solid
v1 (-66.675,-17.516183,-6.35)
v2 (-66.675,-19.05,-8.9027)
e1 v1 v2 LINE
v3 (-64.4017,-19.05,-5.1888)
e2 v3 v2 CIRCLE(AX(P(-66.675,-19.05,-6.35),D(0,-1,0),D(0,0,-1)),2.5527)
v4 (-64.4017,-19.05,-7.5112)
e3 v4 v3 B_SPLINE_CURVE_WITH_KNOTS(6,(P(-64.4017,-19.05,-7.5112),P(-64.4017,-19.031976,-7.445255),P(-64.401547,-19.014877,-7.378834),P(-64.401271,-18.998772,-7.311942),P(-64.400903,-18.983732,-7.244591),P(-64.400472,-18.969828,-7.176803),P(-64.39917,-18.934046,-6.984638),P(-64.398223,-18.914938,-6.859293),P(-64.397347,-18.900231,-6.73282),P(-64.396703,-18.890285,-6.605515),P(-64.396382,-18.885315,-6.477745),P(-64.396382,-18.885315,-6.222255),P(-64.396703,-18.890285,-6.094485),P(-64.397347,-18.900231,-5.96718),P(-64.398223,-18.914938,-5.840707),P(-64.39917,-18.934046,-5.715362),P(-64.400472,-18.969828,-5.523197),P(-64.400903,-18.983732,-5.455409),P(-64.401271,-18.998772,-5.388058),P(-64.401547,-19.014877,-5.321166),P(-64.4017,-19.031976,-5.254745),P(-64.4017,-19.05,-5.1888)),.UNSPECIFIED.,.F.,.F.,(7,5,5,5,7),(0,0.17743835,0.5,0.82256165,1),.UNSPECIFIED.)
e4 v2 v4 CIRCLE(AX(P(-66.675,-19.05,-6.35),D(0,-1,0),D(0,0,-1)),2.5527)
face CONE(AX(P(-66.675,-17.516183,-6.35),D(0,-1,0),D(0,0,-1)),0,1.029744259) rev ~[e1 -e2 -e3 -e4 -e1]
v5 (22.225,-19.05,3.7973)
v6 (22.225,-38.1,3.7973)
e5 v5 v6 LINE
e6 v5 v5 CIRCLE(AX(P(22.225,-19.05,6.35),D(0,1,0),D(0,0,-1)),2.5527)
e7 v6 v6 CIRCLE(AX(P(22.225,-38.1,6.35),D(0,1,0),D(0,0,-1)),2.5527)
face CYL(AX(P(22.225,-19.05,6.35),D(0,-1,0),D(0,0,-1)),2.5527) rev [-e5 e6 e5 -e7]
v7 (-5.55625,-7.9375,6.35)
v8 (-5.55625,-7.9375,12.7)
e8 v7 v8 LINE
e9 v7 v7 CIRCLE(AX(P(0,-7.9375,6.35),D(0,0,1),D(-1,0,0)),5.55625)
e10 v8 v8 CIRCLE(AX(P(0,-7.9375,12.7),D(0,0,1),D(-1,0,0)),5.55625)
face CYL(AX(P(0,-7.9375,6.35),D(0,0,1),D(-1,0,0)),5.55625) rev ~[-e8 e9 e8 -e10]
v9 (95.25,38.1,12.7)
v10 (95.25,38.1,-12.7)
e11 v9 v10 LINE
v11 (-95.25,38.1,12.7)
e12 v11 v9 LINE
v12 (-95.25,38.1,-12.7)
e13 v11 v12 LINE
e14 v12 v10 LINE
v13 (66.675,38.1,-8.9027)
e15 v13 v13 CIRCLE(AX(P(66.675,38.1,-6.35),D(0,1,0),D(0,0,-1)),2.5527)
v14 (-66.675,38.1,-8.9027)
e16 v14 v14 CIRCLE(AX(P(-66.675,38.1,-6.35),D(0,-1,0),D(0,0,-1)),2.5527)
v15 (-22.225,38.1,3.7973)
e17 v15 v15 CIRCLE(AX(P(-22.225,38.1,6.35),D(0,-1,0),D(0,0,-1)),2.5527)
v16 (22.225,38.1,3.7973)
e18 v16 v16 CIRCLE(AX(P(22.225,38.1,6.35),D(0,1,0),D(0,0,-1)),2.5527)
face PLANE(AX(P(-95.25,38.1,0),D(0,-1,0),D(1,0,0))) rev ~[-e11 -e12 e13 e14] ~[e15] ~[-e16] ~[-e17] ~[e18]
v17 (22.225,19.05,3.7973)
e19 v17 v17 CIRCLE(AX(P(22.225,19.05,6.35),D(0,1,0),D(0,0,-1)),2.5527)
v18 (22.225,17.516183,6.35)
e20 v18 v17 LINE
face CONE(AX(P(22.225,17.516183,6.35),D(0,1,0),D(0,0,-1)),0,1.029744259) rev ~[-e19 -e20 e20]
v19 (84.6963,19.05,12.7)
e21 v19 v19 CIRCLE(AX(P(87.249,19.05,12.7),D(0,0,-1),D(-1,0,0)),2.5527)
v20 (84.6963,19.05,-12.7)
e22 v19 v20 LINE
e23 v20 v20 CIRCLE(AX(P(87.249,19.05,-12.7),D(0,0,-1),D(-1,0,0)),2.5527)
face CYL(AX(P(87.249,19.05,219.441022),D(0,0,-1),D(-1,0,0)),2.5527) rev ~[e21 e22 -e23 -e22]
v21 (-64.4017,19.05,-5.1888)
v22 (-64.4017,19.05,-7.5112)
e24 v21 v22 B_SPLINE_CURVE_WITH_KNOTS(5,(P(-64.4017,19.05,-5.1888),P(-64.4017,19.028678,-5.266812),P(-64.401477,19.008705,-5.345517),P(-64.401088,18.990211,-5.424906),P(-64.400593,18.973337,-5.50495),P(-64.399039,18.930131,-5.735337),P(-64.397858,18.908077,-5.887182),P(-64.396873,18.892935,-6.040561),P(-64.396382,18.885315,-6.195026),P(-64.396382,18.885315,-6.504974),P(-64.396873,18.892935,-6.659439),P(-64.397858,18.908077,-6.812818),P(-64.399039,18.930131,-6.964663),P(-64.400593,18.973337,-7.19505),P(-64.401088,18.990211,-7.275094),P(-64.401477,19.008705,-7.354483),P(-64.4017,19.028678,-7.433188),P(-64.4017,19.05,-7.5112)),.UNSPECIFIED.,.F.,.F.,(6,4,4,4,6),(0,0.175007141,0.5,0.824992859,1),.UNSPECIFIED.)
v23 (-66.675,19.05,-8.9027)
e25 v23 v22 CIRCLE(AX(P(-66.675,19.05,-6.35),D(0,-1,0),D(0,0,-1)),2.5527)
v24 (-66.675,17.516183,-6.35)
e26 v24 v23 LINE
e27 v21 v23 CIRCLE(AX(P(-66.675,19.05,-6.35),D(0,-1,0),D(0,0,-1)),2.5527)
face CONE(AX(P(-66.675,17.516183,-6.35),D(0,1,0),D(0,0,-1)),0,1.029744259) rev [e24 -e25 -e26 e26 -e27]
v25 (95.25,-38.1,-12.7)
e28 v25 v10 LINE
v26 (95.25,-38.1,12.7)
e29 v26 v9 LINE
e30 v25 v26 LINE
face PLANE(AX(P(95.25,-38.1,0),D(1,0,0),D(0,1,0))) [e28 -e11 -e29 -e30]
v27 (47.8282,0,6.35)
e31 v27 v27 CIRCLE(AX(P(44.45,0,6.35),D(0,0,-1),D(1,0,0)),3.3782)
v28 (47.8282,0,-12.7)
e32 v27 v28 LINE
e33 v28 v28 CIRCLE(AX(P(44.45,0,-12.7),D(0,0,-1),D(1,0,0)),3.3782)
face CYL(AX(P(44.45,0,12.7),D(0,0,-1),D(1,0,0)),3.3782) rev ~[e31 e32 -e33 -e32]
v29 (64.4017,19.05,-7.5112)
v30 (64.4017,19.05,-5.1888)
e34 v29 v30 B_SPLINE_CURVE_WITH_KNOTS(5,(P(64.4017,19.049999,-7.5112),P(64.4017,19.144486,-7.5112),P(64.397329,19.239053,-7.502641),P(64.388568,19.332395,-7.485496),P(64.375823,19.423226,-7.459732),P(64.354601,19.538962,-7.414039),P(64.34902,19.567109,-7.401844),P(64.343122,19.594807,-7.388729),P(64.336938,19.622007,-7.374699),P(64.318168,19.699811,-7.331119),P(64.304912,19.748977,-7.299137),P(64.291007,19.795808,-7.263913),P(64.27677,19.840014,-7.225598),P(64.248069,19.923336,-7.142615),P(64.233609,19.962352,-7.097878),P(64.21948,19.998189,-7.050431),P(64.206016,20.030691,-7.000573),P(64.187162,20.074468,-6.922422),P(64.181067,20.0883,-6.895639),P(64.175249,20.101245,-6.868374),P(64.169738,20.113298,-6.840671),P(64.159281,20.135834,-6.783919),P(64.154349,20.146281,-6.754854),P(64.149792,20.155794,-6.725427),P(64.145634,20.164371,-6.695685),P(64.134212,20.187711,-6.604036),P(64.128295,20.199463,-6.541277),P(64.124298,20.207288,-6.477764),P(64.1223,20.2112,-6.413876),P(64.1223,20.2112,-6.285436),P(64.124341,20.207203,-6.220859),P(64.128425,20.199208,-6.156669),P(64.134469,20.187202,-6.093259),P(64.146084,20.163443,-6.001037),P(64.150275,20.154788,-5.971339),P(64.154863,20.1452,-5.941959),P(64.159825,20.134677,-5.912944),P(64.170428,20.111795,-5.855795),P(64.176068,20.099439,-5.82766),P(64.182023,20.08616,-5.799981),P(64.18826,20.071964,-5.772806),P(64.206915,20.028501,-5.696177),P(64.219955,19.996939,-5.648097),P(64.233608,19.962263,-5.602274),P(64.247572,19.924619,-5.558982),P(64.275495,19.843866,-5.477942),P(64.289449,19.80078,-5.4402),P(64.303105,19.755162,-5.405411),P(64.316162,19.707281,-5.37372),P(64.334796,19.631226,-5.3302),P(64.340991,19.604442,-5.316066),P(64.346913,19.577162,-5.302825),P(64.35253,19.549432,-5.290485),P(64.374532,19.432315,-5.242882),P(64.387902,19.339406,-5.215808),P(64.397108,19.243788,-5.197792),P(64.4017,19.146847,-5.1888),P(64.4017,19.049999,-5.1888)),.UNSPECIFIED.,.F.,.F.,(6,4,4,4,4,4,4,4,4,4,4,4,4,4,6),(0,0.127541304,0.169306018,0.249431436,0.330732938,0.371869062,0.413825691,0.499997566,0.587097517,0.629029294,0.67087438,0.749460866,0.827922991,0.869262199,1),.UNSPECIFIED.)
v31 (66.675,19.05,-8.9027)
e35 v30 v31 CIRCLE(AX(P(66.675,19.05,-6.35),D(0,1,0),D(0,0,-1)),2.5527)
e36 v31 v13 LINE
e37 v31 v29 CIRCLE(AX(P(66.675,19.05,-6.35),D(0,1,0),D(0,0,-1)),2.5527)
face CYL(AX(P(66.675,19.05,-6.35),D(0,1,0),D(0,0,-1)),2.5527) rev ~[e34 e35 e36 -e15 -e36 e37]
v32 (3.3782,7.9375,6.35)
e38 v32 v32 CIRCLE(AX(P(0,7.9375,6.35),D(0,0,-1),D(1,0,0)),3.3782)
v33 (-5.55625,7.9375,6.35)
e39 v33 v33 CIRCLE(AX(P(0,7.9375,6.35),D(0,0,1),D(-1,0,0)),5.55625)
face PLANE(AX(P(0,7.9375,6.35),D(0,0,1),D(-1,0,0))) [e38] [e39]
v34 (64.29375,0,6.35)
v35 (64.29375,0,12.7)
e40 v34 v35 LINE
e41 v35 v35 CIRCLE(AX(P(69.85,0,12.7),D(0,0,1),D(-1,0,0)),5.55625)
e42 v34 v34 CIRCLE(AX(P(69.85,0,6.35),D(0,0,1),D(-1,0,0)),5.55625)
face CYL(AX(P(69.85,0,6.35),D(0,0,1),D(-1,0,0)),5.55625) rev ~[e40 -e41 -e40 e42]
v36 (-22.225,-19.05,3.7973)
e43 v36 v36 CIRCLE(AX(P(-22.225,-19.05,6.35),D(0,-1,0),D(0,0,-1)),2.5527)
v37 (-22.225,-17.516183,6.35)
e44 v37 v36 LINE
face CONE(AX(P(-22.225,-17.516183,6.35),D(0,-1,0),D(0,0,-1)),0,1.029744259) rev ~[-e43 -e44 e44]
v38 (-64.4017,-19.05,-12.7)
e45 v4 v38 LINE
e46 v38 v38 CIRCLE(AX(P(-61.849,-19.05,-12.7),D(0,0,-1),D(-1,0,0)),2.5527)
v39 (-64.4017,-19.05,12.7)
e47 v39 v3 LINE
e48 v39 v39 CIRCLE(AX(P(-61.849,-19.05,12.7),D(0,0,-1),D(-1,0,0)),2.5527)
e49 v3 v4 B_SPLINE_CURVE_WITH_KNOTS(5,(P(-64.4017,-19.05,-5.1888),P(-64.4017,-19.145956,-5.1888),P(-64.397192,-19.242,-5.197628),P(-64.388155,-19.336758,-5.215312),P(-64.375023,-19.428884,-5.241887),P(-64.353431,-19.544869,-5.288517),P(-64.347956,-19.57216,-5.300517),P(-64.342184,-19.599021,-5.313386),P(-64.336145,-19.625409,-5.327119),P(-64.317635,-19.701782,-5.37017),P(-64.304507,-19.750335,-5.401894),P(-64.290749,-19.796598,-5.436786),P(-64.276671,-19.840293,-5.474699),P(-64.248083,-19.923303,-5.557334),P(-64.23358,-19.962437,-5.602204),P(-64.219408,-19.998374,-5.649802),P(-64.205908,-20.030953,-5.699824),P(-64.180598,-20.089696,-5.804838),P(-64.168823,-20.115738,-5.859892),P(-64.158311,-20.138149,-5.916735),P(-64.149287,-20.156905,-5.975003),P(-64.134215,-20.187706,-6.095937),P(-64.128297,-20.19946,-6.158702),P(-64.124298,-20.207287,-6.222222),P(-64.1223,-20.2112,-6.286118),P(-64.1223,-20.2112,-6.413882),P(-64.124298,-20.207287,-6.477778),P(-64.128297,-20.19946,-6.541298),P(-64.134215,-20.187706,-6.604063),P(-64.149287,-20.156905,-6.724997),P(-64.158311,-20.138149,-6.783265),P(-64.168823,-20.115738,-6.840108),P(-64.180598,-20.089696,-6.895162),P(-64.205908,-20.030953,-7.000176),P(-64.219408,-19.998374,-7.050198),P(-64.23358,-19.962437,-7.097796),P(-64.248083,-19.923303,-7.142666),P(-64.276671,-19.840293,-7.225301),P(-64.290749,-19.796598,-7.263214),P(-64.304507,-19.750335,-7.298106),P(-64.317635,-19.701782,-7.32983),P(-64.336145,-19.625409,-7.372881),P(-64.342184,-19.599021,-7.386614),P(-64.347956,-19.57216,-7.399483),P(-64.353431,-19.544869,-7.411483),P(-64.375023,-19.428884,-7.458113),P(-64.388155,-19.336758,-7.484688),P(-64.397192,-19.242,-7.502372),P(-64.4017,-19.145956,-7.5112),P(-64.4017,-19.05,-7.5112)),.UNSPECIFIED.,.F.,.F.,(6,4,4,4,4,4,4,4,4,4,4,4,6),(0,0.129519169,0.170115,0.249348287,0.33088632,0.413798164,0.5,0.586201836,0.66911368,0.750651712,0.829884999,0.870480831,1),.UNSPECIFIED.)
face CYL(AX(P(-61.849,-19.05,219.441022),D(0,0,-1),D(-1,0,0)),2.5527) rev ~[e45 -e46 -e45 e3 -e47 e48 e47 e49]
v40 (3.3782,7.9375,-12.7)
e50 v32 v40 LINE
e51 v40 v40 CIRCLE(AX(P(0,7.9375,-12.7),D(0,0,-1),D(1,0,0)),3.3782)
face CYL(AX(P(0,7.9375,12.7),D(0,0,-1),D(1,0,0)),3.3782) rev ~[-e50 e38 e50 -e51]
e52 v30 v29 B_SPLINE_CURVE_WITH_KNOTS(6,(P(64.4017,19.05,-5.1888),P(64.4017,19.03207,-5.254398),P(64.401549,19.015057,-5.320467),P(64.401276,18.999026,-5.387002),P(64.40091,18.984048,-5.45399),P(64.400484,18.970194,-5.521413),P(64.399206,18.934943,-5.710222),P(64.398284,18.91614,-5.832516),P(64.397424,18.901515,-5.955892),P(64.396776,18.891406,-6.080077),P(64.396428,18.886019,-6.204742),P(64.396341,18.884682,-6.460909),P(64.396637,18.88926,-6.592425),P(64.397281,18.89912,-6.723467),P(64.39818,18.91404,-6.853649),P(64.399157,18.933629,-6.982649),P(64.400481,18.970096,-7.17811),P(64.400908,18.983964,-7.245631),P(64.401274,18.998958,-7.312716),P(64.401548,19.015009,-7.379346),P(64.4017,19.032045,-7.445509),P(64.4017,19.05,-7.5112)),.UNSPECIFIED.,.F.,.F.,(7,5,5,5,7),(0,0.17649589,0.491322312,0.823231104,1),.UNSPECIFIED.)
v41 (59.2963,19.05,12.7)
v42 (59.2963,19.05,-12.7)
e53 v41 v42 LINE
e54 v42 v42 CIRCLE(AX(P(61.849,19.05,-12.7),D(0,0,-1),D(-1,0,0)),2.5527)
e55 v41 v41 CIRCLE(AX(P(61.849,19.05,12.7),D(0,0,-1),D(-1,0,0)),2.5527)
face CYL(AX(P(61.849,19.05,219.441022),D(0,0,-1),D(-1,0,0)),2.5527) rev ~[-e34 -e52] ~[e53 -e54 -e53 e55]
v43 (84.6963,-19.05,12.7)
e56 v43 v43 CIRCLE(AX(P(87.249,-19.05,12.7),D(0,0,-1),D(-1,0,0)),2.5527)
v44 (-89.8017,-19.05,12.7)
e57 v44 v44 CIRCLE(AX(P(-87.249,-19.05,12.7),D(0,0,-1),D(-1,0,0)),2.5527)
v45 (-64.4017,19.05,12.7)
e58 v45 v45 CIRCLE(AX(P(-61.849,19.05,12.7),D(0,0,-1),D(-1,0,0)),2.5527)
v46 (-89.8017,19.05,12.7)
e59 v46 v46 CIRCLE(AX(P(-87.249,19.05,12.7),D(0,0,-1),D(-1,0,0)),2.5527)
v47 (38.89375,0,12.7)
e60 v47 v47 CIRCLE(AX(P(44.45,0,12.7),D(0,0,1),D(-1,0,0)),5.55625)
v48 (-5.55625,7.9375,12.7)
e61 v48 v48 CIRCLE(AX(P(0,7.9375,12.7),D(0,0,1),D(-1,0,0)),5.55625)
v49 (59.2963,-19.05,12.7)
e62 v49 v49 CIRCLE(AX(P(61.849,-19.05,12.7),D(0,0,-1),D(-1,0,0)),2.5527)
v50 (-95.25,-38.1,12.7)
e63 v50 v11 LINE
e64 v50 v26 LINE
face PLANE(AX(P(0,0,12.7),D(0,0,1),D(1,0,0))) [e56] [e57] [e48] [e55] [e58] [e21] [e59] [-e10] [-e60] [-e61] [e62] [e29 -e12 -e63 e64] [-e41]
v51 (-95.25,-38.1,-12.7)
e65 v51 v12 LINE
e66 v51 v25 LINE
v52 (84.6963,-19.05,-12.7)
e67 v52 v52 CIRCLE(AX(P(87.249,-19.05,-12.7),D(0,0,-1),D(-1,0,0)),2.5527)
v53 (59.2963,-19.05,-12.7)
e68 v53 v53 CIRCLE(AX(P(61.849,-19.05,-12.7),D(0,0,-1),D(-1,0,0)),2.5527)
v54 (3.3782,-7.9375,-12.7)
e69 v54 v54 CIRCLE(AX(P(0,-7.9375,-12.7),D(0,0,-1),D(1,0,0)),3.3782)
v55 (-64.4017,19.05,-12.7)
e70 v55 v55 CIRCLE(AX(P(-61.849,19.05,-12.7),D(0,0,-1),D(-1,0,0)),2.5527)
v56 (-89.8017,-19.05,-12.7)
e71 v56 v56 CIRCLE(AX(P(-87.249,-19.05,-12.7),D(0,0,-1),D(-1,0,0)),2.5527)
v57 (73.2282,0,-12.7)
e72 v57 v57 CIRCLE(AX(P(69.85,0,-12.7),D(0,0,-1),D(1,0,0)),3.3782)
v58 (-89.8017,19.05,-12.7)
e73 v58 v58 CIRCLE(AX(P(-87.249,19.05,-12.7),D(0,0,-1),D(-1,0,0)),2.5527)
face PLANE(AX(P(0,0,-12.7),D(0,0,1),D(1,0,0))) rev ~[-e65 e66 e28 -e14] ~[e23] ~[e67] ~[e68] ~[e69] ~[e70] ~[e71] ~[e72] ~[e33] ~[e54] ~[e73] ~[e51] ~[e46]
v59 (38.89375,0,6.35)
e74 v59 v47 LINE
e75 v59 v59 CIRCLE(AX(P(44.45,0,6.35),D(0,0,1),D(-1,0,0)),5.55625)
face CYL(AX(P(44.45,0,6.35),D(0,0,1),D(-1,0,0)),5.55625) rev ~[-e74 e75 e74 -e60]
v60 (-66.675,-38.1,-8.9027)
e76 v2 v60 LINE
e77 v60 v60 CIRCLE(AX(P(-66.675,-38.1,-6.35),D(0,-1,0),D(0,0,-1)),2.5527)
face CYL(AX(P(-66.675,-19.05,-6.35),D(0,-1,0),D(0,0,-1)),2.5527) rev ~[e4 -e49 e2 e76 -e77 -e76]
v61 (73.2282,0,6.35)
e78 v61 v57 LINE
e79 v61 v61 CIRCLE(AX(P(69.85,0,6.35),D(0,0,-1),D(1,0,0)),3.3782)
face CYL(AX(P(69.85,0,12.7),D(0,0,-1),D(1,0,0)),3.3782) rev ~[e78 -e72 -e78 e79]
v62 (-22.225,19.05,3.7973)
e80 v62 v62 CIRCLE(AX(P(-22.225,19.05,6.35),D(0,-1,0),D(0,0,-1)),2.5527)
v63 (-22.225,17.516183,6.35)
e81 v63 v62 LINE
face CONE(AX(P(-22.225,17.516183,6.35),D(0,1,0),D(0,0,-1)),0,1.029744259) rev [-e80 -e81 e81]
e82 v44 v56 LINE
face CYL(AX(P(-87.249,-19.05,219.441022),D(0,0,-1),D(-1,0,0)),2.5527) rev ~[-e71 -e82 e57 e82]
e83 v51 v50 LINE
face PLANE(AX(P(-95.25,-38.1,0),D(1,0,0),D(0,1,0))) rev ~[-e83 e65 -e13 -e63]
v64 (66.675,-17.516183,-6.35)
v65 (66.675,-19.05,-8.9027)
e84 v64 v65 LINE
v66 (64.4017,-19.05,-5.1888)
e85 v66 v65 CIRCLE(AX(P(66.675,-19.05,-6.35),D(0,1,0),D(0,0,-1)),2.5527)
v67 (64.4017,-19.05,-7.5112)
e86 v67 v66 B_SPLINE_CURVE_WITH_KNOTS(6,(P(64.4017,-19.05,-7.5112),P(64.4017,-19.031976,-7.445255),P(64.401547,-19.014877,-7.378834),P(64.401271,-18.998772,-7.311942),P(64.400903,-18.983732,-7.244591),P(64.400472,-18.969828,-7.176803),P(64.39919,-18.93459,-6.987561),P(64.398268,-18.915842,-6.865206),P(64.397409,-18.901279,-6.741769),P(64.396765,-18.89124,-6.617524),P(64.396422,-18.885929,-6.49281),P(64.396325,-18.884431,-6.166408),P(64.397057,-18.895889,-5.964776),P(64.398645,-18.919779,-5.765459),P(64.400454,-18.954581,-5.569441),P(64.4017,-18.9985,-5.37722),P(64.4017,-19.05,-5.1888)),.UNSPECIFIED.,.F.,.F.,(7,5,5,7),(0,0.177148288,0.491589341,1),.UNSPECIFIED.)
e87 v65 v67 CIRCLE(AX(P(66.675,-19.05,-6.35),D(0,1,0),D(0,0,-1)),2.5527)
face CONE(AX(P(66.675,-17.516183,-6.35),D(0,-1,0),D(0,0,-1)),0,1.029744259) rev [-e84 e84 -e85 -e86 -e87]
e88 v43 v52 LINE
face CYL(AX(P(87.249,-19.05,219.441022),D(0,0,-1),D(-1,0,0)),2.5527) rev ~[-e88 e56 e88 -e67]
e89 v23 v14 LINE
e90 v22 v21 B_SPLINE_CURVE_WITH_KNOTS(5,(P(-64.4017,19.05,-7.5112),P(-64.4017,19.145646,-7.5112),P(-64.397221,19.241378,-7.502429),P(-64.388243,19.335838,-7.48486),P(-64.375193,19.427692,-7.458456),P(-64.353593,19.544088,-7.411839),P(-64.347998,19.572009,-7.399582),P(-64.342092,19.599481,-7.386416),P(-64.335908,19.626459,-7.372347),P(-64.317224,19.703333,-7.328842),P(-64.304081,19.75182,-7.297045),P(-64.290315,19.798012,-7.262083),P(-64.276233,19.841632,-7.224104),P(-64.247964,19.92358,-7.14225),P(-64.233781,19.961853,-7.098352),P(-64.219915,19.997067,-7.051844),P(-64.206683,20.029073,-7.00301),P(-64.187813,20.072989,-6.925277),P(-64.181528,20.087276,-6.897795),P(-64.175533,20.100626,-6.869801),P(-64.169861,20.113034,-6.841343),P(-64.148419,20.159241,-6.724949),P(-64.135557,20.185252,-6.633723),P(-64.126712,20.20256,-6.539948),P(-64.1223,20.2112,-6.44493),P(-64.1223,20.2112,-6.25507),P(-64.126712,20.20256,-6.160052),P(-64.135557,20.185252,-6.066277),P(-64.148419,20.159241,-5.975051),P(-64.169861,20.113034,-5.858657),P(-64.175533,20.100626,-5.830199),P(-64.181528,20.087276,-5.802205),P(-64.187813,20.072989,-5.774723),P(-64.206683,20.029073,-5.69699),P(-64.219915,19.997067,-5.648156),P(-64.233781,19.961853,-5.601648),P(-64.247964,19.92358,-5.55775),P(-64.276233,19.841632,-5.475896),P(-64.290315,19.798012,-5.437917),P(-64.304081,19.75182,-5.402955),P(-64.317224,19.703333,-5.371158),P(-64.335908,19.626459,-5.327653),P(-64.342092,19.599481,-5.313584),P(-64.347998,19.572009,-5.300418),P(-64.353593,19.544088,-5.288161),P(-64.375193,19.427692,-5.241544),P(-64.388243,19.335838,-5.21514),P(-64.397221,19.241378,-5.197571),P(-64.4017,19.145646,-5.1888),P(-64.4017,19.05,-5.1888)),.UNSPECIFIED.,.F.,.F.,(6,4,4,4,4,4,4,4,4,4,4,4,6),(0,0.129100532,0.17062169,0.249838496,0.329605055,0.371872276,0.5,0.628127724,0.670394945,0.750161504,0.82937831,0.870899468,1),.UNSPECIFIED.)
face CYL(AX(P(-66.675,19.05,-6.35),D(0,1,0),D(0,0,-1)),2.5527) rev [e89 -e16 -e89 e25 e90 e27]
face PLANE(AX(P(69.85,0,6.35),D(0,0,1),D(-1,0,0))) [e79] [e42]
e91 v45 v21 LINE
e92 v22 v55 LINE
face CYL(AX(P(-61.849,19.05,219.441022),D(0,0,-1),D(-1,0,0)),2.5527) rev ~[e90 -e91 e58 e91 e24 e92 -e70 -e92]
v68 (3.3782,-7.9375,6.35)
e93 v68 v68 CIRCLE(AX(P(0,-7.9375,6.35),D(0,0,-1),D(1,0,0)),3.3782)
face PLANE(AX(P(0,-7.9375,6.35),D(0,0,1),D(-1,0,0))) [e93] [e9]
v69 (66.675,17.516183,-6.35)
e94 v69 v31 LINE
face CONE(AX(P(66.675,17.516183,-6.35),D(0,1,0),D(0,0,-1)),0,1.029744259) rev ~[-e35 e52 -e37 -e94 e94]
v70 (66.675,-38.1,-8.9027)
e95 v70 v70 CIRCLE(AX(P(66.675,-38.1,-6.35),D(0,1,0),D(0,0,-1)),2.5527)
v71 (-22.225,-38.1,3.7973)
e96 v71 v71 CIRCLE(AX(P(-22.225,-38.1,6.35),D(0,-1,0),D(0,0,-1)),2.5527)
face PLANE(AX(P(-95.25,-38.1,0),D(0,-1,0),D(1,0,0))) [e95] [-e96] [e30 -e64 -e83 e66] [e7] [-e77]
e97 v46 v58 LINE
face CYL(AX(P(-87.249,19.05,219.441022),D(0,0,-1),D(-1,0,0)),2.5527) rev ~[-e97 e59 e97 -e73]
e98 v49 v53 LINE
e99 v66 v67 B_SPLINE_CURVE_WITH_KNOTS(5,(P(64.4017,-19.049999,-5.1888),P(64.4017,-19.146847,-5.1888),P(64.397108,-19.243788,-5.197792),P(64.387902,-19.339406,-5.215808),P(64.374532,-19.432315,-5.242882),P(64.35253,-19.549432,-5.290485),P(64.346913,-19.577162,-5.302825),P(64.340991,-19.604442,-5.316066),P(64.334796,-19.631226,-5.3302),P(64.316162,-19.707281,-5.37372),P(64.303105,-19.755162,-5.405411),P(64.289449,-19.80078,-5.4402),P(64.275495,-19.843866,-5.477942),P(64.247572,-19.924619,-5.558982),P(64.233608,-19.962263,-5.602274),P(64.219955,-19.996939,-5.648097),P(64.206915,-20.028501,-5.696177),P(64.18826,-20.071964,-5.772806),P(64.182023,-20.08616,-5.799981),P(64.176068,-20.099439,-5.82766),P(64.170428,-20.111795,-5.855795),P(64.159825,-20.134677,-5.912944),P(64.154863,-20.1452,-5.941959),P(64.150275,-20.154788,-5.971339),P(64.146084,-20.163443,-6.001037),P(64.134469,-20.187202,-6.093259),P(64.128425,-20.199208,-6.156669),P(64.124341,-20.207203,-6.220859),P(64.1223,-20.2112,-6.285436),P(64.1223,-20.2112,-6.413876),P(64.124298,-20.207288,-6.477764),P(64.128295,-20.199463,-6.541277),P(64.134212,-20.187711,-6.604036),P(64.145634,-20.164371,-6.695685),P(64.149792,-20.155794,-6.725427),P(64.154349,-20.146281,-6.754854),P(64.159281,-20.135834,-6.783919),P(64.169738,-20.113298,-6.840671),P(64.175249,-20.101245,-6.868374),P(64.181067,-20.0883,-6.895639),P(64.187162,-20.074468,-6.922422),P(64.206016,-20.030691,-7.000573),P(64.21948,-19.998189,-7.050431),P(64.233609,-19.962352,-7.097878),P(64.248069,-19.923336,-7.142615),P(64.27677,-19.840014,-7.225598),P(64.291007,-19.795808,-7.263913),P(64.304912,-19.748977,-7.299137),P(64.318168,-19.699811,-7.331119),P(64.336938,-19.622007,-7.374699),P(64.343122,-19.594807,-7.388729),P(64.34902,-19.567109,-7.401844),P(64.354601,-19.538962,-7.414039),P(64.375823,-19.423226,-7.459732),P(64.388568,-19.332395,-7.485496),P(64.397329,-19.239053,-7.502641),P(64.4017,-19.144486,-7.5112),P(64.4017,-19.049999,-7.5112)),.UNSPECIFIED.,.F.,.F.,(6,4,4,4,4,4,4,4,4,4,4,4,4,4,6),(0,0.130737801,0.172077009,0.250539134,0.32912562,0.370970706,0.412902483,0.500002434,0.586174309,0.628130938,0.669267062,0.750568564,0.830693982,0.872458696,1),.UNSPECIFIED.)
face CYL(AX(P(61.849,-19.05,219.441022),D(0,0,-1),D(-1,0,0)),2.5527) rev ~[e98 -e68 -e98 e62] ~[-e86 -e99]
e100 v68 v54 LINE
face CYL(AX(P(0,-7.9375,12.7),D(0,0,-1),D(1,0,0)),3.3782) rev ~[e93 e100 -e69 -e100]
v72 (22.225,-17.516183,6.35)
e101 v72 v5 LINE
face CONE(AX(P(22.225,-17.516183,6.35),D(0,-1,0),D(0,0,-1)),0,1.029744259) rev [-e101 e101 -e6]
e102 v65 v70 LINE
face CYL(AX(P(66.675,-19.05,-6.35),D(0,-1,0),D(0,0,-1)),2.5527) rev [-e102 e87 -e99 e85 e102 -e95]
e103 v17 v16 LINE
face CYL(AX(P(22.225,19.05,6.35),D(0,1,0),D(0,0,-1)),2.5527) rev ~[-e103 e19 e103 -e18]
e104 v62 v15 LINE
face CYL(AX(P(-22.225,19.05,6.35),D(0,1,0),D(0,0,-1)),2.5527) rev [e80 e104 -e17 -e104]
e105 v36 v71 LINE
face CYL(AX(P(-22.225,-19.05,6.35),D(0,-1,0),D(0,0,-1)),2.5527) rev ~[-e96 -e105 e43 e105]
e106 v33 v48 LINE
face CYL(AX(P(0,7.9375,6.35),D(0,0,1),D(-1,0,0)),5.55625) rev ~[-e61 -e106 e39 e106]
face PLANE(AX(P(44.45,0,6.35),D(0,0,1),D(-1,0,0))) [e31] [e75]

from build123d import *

# Parameters (mm, degrees)
SKETCH1_W                                            = 190.5
SKETCH1_H                                            = 76.2
EXTRUDE1_DEPTH                                       = 12.7
SIDE_1_4_20_TAPPED_HOLE_MASTER_AT_2_COUNT            = 2
SIDE_1_4_20_TAPPED_HOLE_MASTER_AT_2_PITCH            = 46.228697797
TOP_1_4_20_TAPPED_HOES_D                             = 5.1054
BUSIHING_FLEXURE_COUPLING_1_4_20_BOLT_HO_D           = 6.7564
BUSIHING_FLEXURE_COUPLING_1_4_20_BOLT_HO_CBORE_D     = 11.1125
BUSIHING_FLEXURE_COUPLING_1_4_20_BOLT_HO_CBORE_DEPTH = 6.35
LEAD_SCREW_1_4_CAP_SCREW_MOUNTS_D                    = 6.7564
LEAD_SCREW_1_4_CAP_SCREW_MOUNTS_CBORE_D              = 11.1125
LEAD_SCREW_1_4_CAP_SCREW_MOUNTS_CBORE_DEPTH          = 6.35


with BuildPart() as part:
    # Sketch1 → Extrude1 (new, symmetric)
    with BuildSketch(Plane.XY):
        Rectangle(SKETCH1_W, SKETCH1_H)
    extrude(amount=EXTRUDE1_DEPTH, both=True)

    # Sketch10 → Side-1/4-20 tapped hole master (revolve, cut)
    with BuildSketch(Plane(origin=(22.225, -38.1, 6.35), x_dir=(0, 0, -1), z_dir=(1, 0, 0))):
        Polygon((0, 0), (0, 20.583816902), (2.5527, 19.05), (2.5527, 0), align=None)
    side_1_4_20_tapped_hole_master = revolve(axis=Axis((22.225, -44.45, 6.35), (0, 1, 0)), mode=Mode.SUBTRACT)

    # Side-1/4-20 tapped hole master at 2: Side-1/4-20 tapped hole master ×2
    with Locations(*[Vector(0.9615239476408232, 0, -0.27472112789737807) * (i * SIDE_1_4_20_TAPPED_HOLE_MASTER_AT_2_PITCH) for i in range(1, SIDE_1_4_20_TAPPED_HOLE_MASTER_AT_2_COUNT)]):
        add(side_1_4_20_tapped_hole_master, mode=Mode.SUBTRACT)

    # Side-1/4-20 tapped hole mirror I: Side-1/4-20 tapped hole master across plane
    add(side_1_4_20_tapped_hole_master.mirror(Plane(origin=(0, 0, 0), x_dir=(0, 0, 1), z_dir=(1, 0, 0))), mode=Mode.SUBTRACT)

    # Side-1/4-20 tapped hole mirror I copy 1 → Side-1/4-20 tapped hole mirror I cop 2 (revolve, cut)
    with BuildSketch(Plane(origin=(-66.675, -38.1, -6.35), x_dir=(0, 0, -1), z_dir=(-1, 0, 0))):
        Polygon((0, 0), (0, -20.583816902), (2.5527, -19.05), (2.5527, 0), align=None)
    revolve(axis=Axis((-66.675, -44.45, -6.35), (0, -1, 0)), mode=Mode.SUBTRACT)

    # Side-1/4-20 tapped hole mirror II: Side-1/4-20 tapped hole master across plane
    add(side_1_4_20_tapped_hole_master.mirror(Plane.ZX), mode=Mode.SUBTRACT)

    # Side-1/4-20 tapped hole mirror II copy 1 → Side-1/4-20 tapped hole mirror II co 2 (revolve, cut)
    with BuildSketch(Plane(origin=(66.675, 38.1, -6.35), x_dir=(0, 0, -1), z_dir=(1, 0, 0))):
        Polygon((0, 0), (0, -20.583816902), (2.5527, -19.05), (2.5527, 0), align=None)
    revolve(axis=Axis((66.675, 44.45, -6.35), (0, 1, 0)), mode=Mode.SUBTRACT)

    # Side-1/4-20 tapped hole mirror II copy 2 → Side-1/4-20 tapped hole mirror II co 3 (revolve, cut)
    with BuildSketch(Plane(origin=(-22.225, 38.1, 6.35), x_dir=(0, 0, -1), z_dir=(-1, 0, 0))):
        Polygon((0, 0), (0, 20.583816902), (2.5527, 19.05), (2.5527, 0), align=None)
    revolve(axis=Axis((-22.225, 44.45, 6.35), (0, -1, 0)), mode=Mode.SUBTRACT)

    # Side-1/4-20 tapped hole mirror II copy 3 → Side-1/4-20 tapped hole mirror II co 4 (revolve, cut)
    with BuildSketch(Plane(origin=(-66.675, 38.1, -6.35), x_dir=(0, 0, -1), z_dir=(-1, 0, 0))):
        Polygon((0, 0), (0, 20.583816902), (2.5527, 19.05), (2.5527, 0), align=None)
    revolve(axis=Axis((-66.675, 44.45, -6.35), (0, -1, 0)), mode=Mode.SUBTRACT)

    # Top-1/4-20 tapped hoes (through all)
    with Locations(Plane.XY.offset(12.7)):
        with Locations((-61.849, 19.05), (-61.849, -19.05), (-87.249, 19.05), (-87.249, -19.05), (87.249, 19.05), (87.249, -19.05), (61.849, 19.05), (61.849, -19.05)):
            Hole(TOP_1_4_20_TAPPED_HOES_D / 2)

    # Busihing flexure coupling 1/4-20 bolt holes (through all)
    with Locations(Plane(origin=(-12.155752838, -9.35929282, 12.7), x_dir=(-1, 0, 0), z_dir=(0, 0, 1))):
        with Locations((-56.605752838, -9.35929282), (-82.005752838, -9.35929282)):
            CounterBoreHole(BUSIHING_FLEXURE_COUPLING_1_4_20_BOLT_HO_D / 2, BUSIHING_FLEXURE_COUPLING_1_4_20_BOLT_HO_CBORE_D / 2, BUSIHING_FLEXURE_COUPLING_1_4_20_BOLT_HO_CBORE_DEPTH)

    # Lead screw 1/4 cap screw mounts (through all)
    with Locations(Plane(origin=(36.480699887, 13.8528382, 12.7), x_dir=(-1, 0, 0), z_dir=(0, 0, 1))):
        with Locations((36.480699887, 5.9153382), (36.480699887, 21.7903382)):
            CounterBoreHole(LEAD_SCREW_1_4_CAP_SCREW_MOUNTS_D / 2, LEAD_SCREW_1_4_CAP_SCREW_MOUNTS_CBORE_D / 2, LEAD_SCREW_1_4_CAP_SCREW_MOUNTS_CBORE_DEPTH)


solid = part.part
